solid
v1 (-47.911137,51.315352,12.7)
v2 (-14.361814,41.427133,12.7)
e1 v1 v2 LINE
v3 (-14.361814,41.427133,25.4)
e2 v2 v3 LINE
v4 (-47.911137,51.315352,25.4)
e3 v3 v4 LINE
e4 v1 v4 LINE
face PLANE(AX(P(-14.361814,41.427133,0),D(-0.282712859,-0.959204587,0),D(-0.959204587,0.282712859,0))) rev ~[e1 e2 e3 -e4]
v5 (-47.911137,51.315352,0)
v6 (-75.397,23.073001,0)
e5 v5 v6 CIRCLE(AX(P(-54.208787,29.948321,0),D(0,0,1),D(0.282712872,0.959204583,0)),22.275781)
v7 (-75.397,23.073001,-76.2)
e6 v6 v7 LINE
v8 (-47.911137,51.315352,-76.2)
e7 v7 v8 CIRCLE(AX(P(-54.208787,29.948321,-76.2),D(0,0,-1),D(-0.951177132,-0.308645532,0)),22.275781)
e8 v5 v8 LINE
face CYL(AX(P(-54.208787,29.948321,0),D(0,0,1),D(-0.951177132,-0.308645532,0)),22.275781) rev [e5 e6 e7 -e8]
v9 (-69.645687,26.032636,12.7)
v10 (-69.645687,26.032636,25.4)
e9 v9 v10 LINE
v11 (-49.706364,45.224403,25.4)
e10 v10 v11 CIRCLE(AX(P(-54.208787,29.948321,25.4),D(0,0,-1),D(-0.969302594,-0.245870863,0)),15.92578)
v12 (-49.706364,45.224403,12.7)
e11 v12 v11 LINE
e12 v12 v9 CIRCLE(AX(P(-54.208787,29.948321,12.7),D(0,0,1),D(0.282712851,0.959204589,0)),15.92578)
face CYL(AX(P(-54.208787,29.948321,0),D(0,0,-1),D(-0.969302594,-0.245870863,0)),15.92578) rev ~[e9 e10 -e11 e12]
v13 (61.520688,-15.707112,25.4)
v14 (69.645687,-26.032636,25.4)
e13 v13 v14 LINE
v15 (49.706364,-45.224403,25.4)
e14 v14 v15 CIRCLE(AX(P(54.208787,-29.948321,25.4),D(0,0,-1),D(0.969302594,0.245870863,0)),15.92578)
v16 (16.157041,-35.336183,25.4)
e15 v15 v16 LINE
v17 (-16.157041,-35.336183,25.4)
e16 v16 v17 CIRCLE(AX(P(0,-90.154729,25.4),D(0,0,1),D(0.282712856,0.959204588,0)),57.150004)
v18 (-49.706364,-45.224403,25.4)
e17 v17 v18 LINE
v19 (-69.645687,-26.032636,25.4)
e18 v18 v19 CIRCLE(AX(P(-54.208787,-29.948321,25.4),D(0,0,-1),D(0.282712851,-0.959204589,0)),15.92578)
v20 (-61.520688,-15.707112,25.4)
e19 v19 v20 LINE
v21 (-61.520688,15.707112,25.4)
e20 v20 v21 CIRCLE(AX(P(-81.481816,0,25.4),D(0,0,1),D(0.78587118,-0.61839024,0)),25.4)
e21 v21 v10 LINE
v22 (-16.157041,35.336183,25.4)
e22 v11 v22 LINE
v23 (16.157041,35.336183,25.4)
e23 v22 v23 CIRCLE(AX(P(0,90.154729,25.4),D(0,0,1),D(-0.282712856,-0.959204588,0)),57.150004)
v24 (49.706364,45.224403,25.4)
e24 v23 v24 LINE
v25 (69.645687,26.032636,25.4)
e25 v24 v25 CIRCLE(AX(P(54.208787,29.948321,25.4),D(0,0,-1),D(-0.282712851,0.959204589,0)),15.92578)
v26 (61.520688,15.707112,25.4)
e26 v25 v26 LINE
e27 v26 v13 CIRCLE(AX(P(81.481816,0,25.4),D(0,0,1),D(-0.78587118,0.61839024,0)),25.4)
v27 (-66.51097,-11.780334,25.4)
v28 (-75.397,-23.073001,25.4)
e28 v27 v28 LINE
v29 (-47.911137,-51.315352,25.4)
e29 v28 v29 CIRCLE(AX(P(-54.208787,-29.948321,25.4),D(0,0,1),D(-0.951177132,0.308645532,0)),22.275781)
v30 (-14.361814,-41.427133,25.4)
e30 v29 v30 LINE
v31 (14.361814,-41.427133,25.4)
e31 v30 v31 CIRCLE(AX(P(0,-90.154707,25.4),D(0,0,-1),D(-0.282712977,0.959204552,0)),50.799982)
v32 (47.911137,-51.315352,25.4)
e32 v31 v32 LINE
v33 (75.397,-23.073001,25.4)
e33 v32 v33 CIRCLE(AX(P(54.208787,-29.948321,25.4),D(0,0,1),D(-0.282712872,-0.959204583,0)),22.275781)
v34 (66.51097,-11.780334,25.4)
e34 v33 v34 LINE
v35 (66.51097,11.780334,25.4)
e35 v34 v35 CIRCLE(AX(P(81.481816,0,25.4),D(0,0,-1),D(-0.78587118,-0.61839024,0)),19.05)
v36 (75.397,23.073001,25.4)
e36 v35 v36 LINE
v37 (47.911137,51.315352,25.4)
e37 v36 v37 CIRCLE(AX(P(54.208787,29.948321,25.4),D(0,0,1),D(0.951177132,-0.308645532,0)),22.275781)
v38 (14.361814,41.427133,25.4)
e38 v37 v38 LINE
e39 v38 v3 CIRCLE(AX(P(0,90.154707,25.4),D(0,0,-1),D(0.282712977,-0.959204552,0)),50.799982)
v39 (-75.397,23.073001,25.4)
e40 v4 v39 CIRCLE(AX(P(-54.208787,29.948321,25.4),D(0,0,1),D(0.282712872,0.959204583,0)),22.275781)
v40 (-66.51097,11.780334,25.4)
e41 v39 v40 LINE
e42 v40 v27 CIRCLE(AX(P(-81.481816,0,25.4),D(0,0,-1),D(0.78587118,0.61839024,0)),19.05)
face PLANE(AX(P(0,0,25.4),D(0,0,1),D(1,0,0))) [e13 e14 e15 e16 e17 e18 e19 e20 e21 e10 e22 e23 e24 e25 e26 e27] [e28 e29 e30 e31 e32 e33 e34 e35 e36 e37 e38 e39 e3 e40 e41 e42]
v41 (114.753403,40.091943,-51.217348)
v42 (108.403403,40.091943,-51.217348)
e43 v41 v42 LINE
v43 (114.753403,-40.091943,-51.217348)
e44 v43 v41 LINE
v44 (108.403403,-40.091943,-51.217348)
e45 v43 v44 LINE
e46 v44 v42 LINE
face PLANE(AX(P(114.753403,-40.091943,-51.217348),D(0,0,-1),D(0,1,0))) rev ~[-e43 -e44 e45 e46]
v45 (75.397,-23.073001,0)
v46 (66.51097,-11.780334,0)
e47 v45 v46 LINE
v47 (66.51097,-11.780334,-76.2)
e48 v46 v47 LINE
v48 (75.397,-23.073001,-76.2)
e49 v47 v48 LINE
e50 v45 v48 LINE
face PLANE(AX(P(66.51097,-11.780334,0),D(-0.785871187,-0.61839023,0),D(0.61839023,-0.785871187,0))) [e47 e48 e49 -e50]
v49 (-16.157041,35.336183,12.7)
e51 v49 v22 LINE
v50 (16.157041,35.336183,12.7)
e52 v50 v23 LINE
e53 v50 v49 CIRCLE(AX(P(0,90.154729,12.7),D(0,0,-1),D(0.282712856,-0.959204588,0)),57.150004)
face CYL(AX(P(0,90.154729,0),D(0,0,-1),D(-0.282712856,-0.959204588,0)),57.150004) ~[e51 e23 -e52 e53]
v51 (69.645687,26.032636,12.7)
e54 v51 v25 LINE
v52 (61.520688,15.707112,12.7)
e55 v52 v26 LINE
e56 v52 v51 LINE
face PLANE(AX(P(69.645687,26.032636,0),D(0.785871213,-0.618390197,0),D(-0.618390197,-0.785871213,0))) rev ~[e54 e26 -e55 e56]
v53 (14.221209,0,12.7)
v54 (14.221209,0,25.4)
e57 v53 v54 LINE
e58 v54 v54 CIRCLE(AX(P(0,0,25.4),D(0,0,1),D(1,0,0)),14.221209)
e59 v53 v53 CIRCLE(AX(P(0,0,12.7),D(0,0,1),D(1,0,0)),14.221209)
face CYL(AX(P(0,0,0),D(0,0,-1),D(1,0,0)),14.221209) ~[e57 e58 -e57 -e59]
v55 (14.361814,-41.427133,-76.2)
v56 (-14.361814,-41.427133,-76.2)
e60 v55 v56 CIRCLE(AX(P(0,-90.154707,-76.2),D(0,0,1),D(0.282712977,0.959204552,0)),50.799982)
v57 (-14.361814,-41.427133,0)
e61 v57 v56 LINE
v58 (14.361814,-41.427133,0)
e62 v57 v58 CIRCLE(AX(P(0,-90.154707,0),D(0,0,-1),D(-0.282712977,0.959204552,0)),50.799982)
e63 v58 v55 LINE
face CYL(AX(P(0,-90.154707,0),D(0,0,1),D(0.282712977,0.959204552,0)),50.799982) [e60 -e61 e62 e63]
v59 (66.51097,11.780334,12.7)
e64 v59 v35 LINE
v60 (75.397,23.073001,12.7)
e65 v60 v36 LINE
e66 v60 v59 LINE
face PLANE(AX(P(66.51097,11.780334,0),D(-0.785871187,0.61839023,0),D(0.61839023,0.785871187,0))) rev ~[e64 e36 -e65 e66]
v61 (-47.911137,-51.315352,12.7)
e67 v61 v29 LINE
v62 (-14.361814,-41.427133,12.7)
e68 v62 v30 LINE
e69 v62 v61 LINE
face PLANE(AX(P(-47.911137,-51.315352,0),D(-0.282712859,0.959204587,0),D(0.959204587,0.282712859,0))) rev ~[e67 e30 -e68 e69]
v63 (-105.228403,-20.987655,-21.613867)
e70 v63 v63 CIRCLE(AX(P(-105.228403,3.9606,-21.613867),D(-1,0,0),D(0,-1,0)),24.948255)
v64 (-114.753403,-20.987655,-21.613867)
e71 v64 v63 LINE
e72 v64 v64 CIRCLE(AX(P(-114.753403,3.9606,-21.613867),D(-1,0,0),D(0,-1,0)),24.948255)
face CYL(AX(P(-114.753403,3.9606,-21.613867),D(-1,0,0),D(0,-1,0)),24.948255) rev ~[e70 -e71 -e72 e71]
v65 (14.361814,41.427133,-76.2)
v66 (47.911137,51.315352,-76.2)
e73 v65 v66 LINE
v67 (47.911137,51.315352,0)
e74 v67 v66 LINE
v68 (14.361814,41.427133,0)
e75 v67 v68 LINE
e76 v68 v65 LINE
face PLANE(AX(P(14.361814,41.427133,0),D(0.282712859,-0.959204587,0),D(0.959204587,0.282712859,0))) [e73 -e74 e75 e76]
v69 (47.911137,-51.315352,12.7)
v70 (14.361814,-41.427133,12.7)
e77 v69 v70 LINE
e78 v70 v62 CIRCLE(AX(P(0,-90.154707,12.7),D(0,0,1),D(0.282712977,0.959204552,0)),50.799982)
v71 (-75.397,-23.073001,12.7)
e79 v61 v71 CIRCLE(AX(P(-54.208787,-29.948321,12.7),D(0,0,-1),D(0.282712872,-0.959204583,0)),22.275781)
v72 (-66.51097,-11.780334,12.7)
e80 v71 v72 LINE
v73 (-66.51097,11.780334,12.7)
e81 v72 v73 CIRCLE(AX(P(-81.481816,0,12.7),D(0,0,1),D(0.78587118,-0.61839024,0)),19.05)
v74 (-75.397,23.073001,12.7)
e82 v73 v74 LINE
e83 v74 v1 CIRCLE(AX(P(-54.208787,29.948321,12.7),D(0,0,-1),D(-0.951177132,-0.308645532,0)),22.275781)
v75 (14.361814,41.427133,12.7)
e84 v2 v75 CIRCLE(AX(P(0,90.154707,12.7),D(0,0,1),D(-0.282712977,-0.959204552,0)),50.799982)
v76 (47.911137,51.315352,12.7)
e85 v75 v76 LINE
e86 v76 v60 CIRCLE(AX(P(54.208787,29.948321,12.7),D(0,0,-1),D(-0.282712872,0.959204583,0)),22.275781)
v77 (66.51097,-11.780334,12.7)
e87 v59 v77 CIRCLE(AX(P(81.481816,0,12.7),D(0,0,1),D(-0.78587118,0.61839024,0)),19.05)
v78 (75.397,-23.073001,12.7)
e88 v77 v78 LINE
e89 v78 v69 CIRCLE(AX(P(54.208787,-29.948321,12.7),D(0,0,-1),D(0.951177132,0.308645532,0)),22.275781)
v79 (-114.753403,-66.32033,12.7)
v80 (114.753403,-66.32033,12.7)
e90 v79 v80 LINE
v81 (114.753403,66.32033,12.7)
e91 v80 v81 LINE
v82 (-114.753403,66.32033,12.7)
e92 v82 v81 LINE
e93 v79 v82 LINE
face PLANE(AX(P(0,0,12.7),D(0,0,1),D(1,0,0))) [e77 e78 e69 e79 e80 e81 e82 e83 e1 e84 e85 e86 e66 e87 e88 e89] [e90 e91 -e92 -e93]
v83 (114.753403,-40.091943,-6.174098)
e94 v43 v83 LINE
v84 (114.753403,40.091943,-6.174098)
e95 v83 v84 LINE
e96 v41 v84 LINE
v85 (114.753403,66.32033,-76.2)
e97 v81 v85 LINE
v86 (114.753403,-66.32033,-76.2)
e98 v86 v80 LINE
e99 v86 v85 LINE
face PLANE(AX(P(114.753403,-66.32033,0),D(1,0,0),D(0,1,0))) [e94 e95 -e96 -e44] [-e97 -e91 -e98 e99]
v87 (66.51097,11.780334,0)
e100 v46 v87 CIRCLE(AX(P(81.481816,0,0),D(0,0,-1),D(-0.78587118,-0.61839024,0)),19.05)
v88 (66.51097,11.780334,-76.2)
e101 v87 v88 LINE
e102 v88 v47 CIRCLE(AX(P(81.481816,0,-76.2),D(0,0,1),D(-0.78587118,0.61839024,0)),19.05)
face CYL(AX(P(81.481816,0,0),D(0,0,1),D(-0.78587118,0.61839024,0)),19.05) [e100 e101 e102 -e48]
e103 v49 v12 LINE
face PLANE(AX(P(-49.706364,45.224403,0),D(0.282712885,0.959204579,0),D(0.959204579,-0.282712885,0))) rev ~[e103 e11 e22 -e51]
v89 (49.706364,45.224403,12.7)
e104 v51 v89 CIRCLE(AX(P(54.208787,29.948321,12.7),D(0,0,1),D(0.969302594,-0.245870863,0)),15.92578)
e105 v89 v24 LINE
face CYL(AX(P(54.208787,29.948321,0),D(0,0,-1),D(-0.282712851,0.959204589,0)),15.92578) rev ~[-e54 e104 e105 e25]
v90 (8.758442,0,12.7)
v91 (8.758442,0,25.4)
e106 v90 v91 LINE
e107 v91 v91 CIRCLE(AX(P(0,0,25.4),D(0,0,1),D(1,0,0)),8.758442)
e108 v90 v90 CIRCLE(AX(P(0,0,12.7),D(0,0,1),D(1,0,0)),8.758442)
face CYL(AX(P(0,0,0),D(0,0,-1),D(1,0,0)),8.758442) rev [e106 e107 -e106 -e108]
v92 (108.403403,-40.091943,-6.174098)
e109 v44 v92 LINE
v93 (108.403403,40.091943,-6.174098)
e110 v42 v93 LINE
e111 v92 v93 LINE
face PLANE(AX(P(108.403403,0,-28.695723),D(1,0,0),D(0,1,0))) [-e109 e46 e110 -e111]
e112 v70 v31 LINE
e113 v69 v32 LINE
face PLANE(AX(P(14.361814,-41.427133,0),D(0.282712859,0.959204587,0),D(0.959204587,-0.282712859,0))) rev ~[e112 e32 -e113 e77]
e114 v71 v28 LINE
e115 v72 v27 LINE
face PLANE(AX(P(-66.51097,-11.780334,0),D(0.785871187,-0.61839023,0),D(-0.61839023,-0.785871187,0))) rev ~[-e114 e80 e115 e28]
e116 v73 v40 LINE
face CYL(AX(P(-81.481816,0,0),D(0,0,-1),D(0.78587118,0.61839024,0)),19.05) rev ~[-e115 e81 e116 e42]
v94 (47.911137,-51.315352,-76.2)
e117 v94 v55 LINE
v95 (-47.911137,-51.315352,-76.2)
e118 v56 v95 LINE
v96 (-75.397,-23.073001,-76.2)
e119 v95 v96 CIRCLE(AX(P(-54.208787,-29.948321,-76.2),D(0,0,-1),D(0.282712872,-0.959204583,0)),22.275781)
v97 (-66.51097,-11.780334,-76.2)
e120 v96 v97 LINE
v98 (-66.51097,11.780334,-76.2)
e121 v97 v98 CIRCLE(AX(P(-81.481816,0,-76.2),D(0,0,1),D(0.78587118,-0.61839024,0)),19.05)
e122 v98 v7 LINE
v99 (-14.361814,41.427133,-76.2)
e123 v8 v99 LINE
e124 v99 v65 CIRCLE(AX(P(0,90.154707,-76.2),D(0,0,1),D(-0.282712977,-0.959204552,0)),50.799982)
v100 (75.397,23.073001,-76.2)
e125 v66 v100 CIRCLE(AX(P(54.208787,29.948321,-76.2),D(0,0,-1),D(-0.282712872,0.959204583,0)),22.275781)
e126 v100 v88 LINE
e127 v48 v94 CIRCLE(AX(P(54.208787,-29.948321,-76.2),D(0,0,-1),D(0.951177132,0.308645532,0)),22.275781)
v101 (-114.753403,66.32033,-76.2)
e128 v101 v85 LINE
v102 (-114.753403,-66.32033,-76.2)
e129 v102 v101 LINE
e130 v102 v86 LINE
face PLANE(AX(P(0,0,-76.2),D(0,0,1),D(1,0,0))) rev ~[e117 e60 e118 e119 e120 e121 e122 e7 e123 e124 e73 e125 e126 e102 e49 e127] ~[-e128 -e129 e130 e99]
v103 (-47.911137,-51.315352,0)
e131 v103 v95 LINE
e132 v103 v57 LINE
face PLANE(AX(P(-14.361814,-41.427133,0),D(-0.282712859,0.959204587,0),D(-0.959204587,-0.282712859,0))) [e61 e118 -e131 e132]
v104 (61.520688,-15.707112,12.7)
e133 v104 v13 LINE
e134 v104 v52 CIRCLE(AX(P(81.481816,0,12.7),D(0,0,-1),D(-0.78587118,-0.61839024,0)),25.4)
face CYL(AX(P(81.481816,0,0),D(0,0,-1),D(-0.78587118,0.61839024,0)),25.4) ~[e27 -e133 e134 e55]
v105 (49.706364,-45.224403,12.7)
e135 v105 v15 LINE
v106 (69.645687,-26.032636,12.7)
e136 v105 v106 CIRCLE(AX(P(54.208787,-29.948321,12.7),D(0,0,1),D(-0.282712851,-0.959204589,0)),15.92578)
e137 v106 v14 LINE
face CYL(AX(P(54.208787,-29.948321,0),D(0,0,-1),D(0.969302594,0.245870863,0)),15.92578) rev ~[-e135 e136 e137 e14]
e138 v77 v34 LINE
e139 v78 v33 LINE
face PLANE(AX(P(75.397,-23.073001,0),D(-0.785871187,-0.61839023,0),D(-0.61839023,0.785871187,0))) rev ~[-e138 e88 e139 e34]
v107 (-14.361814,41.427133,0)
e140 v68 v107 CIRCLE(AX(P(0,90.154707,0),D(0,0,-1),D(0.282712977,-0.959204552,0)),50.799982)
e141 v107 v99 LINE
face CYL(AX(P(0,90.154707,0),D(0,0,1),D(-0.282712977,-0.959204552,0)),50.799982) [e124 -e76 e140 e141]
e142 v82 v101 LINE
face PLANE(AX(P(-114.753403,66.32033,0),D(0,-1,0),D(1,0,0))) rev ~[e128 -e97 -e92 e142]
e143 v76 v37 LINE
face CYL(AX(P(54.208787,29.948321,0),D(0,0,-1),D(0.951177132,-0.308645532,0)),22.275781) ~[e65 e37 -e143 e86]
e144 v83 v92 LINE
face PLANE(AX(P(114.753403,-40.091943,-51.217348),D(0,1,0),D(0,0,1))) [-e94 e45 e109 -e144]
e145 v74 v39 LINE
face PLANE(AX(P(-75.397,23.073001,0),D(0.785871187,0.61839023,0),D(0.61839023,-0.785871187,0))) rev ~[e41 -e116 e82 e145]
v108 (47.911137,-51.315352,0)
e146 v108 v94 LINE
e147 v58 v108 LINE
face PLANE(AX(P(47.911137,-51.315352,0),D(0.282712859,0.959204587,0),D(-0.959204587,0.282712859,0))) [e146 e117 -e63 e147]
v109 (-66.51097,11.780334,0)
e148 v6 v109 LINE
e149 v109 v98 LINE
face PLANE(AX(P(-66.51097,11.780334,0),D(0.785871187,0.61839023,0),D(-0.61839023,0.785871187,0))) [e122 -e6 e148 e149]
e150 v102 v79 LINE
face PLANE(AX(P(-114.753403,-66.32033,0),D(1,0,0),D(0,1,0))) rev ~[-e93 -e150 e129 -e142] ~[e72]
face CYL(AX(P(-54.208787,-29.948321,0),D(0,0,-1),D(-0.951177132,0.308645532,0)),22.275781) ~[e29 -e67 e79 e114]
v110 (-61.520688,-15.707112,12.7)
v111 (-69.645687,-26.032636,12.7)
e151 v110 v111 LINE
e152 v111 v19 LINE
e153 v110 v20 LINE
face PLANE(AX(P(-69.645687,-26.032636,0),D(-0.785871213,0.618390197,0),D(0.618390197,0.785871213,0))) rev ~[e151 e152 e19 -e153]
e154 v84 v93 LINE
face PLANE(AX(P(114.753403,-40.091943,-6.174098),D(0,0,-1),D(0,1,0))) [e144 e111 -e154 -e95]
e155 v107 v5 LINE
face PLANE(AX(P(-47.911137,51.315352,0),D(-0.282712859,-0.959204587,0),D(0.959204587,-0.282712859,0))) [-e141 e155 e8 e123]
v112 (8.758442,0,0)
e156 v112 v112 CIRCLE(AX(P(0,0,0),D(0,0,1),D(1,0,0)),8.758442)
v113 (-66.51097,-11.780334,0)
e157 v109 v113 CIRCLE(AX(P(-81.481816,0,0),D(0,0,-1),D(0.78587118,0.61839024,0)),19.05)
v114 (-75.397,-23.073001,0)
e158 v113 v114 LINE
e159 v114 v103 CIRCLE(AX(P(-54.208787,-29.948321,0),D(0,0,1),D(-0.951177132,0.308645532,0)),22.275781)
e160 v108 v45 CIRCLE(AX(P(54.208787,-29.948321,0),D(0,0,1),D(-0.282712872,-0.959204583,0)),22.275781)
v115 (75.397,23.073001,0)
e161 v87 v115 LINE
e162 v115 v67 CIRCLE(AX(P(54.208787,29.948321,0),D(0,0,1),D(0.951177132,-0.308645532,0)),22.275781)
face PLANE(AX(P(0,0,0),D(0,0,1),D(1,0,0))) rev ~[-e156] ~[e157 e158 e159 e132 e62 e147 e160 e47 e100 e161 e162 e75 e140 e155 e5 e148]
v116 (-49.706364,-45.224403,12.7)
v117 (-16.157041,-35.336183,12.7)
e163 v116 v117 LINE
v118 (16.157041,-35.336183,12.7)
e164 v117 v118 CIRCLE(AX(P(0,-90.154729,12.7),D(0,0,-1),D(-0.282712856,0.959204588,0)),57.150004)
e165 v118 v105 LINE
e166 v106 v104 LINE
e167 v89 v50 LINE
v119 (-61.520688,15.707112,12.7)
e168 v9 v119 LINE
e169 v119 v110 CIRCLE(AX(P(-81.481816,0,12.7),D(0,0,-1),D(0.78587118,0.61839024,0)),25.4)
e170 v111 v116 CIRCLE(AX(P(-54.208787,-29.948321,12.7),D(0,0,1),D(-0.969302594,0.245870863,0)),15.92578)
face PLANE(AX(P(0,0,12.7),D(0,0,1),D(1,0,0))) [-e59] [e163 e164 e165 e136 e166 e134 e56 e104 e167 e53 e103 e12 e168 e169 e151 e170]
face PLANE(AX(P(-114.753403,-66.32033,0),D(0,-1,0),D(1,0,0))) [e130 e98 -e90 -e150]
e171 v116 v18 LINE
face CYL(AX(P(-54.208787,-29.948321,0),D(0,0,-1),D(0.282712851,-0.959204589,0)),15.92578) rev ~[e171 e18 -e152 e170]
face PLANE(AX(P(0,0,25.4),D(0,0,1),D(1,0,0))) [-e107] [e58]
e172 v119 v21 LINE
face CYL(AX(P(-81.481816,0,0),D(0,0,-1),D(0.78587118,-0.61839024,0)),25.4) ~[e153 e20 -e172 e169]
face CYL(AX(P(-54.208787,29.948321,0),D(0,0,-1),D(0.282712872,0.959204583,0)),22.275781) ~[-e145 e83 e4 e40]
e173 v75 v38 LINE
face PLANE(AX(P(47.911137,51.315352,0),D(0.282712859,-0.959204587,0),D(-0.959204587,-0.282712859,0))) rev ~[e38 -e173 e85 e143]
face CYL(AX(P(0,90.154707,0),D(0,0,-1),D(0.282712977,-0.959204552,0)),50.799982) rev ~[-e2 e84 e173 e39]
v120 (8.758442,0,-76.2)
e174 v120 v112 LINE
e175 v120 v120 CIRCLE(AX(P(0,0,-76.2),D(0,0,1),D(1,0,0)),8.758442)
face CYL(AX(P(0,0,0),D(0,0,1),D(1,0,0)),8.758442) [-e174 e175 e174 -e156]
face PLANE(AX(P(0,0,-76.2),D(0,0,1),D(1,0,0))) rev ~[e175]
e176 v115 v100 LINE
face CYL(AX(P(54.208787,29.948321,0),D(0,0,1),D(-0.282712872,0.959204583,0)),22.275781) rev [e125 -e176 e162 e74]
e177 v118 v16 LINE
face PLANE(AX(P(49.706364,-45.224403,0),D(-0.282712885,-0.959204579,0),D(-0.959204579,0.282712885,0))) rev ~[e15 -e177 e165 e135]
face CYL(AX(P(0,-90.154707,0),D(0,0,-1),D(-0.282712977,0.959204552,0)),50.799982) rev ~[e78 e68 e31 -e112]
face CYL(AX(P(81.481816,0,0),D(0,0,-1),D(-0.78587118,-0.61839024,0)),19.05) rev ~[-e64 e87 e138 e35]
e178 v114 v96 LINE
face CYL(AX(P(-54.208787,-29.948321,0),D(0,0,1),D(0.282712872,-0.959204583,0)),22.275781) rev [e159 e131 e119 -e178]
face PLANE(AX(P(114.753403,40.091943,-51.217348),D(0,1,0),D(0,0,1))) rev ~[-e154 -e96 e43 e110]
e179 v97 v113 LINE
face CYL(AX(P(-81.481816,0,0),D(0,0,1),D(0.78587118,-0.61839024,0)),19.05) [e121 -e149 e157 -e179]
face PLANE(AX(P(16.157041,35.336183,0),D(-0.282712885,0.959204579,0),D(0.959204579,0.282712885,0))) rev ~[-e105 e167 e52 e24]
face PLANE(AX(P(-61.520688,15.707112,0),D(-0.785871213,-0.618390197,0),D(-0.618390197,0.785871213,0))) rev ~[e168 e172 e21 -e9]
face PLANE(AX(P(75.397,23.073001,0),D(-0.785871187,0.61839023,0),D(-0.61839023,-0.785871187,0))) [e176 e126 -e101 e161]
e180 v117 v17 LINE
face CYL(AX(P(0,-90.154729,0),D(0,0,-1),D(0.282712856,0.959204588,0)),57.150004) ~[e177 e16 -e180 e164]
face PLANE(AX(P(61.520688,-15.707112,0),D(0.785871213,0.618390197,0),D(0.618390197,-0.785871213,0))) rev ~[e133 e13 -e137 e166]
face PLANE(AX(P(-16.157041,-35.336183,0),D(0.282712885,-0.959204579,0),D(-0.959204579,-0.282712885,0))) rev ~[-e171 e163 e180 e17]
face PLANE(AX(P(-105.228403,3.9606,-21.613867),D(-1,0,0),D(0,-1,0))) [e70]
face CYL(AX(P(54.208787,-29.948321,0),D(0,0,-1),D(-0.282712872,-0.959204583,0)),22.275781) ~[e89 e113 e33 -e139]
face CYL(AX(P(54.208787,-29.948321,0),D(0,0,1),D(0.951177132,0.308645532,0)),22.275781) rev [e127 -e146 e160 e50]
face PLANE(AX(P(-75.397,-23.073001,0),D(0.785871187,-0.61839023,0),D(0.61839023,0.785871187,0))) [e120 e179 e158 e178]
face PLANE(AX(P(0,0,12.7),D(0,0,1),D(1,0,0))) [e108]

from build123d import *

# Parameters (mm, degrees)
F0_W          = 229.506806
F0_H          = 132.64066
F0_R          = 8.758442
F1_DEPTH      = 12.7
F1_DEPTH_BACK = 76.2
F0_R_2        = 14.221209
F2_DEPTH      = 12.7
F3_DEPTH      = 25.4
F4_DEPTH      = 12.7
F5_W          = 80.183886
F5_H          = 45.04325
F6_DEPTH      = 6.35
F7_R          = 24.948255
F8_DEPTH      = 9.525


with BuildPart() as f1:
    # F0 (on Top) → F1 (new body, two sides)
    with BuildSketch(Plane.XY) as f1_sk:
        Rectangle(F0_W, F0_H)
        with BuildLine():
            ThreePointArc((-66.51097, -11.780334), (-62.431816, 0), (-66.51097, 11.780334))
            Line((-66.51097, 11.780334), (-75.397, 23.073001))
            ThreePointArc((-75.397, 23.073001), (-70.17249, 45.484427), (-47.911137, 51.315352))
            Line((-47.911137, 51.315352), (-14.361814, 41.427133))
            ThreePointArc((-14.361814, 41.427133), (0, 39.354725), (14.361814, 41.427133))
            Line((14.361814, 41.427133), (47.911137, 51.315352))
            ThreePointArc((47.911137, 51.315352), (70.17249, 45.484427), (75.397, 23.073001))
            Line((75.397, 23.073001), (66.51097, 11.780334))
            ThreePointArc((66.51097, 11.780334), (62.431816, 0), (66.51097, -11.780334))
            Line((66.51097, -11.780334), (75.397, -23.073001))
            ThreePointArc((75.397, -23.073001), (70.17249, -45.484427), (47.911137, -51.315352))
            Line((47.911137, -51.315352), (14.361814, -41.427133))
            ThreePointArc((14.361814, -41.427133), (0, -39.354725), (-14.361814, -41.427133))
            Line((-14.361814, -41.427133), (-47.911137, -51.315352))
            ThreePointArc((-47.911137, -51.315352), (-70.17249, -45.484427), (-75.397, -23.073001))
            Line((-75.397, -23.073001), (-66.51097, -11.780334))
        make_face(mode=Mode.SUBTRACT)
        Circle(F0_R)
    extrude(amount=F1_DEPTH)
    extrude(f1_sk.sketch, amount=-F1_DEPTH_BACK)



with BuildPart() as f2:
    # F0 (on Top) → F2 (new body)
    with BuildSketch(Plane.XY):
        with BuildLine():
            ThreePointArc((69.645687, 26.032636), (65.252866, 41.422588), (49.706364, 45.224403))
            Line((49.706364, 45.224403), (16.157041, 35.336183))
            ThreePointArc((16.157041, 35.336183), (0, 33.004725), (-16.157041, 35.336183))
            Line((-16.157041, 35.336183), (-49.706364, 45.224403))
            ThreePointArc((-49.706364, 45.224403), (-65.252866, 41.422588), (-69.645687, 26.032636))
            Line((-69.645687, 26.032636), (-61.520688, 15.707112))
            ThreePointArc((-61.520688, 15.707112), (-56.081816, 0), (-61.520688, -15.707112))
            Line((-61.520688, -15.707112), (-69.645687, -26.032636))
            ThreePointArc((-69.645687, -26.032636), (-65.252866, -41.422588), (-49.706364, -45.224403))
            Line((-49.706364, -45.224403), (-16.157041, -35.336183))
            ThreePointArc((-16.157041, -35.336183), (0, -33.004725), (16.157041, -35.336183))
            Line((16.157041, -35.336183), (49.706364, -45.224403))
            ThreePointArc((49.706364, -45.224403), (65.252866, -41.422588), (69.645687, -26.032636))
            Line((69.645687, -26.032636), (61.520688, -15.707112))
            ThreePointArc((61.520688, -15.707112), (56.081816, 0), (61.520688, 15.707112))
            Line((61.520688, 15.707112), (69.645687, 26.032636))
        make_face()
        Circle(F0_R_2, mode=Mode.SUBTRACT)
    extrude(amount=F2_DEPTH)


with BuildPart() as f1_1:
    add(f1.part)

    add(f2.part)  # F3 merges F2
    # F0 (on Top) → F3 (join)
    with BuildSketch(Plane.XY):
        with BuildLine():
            Line((-75.397, 23.073001), (-66.51097, 11.780334))
            ThreePointArc((-66.51097, 11.780334), (-62.431816, 0), (-66.51097, -11.780334))
            Line((-66.51097, -11.780334), (-75.397, -23.073001))
            ThreePointArc((-75.397, -23.073001), (-70.17249, -45.484427), (-47.911137, -51.315352))
            Line((-47.911137, -51.315352), (-14.361814, -41.427133))
            ThreePointArc((-14.361814, -41.427133), (0, -39.354725), (14.361814, -41.427133))
            Line((14.361814, -41.427133), (47.911137, -51.315352))
            ThreePointArc((47.911137, -51.315352), (70.17249, -45.484427), (75.397, -23.073001))
            Line((75.397, -23.073001), (66.51097, -11.780334))
            ThreePointArc((66.51097, -11.780334), (62.431816, 0), (66.51097, 11.780334))
            Line((66.51097, 11.780334), (75.397, 23.073001))
            ThreePointArc((75.397, 23.073001), (70.17249, 45.484427), (47.911137, 51.315352))
            Line((47.911137, 51.315352), (14.361814, 41.427133))
            ThreePointArc((14.361814, 41.427133), (0, 39.354725), (-14.361814, 41.427133))
            Line((-14.361814, 41.427133), (-47.911137, 51.315352))
            ThreePointArc((-47.911137, 51.315352), (-70.17249, 45.484427), (-75.397, 23.073001))
        make_face()
        with BuildLine():
            Line((16.157041, 35.336183), (49.706364, 45.224403))
            ThreePointArc((49.706364, 45.224403), (65.252866, 41.422588), (69.645687, 26.032636))
            Line((69.645687, 26.032636), (61.520688, 15.707112))
            ThreePointArc((61.520688, 15.707112), (56.081816, 0), (61.520688, -15.707112))
            Line((61.520688, -15.707112), (69.645687, -26.032636))
            ThreePointArc((69.645687, -26.032636), (65.252866, -41.422588), (49.706364, -45.224403))
            Line((49.706364, -45.224403), (16.157041, -35.336183))
            ThreePointArc((16.157041, -35.336183), (0, -33.004725), (-16.157041, -35.336183))
            Line((-16.157041, -35.336183), (-49.706364, -45.224403))
            ThreePointArc((-49.706364, -45.224403), (-65.252866, -41.422588), (-69.645687, -26.032636))
            Line((-69.645687, -26.032636), (-61.520688, -15.707112))
            ThreePointArc((-61.520688, -15.707112), (-56.081816, 0), (-61.520688, 15.707112))
            Line((-61.520688, 15.707112), (-69.645687, 26.032636))
            ThreePointArc((-69.645687, 26.032636), (-65.252866, 41.422588), (-49.706364, 45.224403))
            Line((-49.706364, 45.224403), (-16.157041, 35.336183))
            ThreePointArc((-16.157041, 35.336183), (0, 33.004725), (16.157041, 35.336183))
        make_face(mode=Mode.SUBTRACT)
        Circle(F0_R_2)
        Circle(F0_R, mode=Mode.SUBTRACT)
    extrude(amount=F3_DEPTH)

    # F0 (on Top) → F4 (join)
    with BuildSketch(Plane.XY):
        with BuildLine():
            ThreePointArc((69.645687, 26.032636), (65.252866, 41.422588), (49.706364, 45.224403))
            Line((49.706364, 45.224403), (16.157041, 35.336183))
            ThreePointArc((16.157041, 35.336183), (0, 33.004725), (-16.157041, 35.336183))
            Line((-16.157041, 35.336183), (-49.706364, 45.224403))
            ThreePointArc((-49.706364, 45.224403), (-65.252866, 41.422588), (-69.645687, 26.032636))
            Line((-69.645687, 26.032636), (-61.520688, 15.707112))
            ThreePointArc((-61.520688, 15.707112), (-56.081816, 0), (-61.520688, -15.707112))
            Line((-61.520688, -15.707112), (-69.645687, -26.032636))
            ThreePointArc((-69.645687, -26.032636), (-65.252866, -41.422588), (-49.706364, -45.224403))
            Line((-49.706364, -45.224403), (-16.157041, -35.336183))
            ThreePointArc((-16.157041, -35.336183), (0, -33.004725), (16.157041, -35.336183))
            Line((16.157041, -35.336183), (49.706364, -45.224403))
            ThreePointArc((49.706364, -45.224403), (65.252866, -41.422588), (69.645687, -26.032636))
            Line((69.645687, -26.032636), (61.520688, -15.707112))
            ThreePointArc((61.520688, -15.707112), (56.081816, 0), (61.520688, 15.707112))
            Line((61.520688, 15.707112), (69.645687, 26.032636))
        make_face()
        Circle(F0_R_2, mode=Mode.SUBTRACT)
    extrude(amount=F4_DEPTH)

    # F5 (on face) → F6 (cut)
    with BuildSketch(Plane.YZ.offset(114.753403)):
        with Locations((0, -28.695723)):
            Rectangle(F5_W, F5_H)
    extrude(amount=-F6_DEPTH, mode=Mode.SUBTRACT)

    # F7 (on face) → F8 (cut)
    with BuildSketch(Plane(origin=(-114.753403, 0, 0), x_dir=(0, -1, 0), z_dir=(-1, 0, 0))):
        with Locations((-3.9606, -21.613867)):
            Circle(F7_R)
    extrude(amount=-F8_DEPTH, mode=Mode.SUBTRACT)


solid = f1_1.part
